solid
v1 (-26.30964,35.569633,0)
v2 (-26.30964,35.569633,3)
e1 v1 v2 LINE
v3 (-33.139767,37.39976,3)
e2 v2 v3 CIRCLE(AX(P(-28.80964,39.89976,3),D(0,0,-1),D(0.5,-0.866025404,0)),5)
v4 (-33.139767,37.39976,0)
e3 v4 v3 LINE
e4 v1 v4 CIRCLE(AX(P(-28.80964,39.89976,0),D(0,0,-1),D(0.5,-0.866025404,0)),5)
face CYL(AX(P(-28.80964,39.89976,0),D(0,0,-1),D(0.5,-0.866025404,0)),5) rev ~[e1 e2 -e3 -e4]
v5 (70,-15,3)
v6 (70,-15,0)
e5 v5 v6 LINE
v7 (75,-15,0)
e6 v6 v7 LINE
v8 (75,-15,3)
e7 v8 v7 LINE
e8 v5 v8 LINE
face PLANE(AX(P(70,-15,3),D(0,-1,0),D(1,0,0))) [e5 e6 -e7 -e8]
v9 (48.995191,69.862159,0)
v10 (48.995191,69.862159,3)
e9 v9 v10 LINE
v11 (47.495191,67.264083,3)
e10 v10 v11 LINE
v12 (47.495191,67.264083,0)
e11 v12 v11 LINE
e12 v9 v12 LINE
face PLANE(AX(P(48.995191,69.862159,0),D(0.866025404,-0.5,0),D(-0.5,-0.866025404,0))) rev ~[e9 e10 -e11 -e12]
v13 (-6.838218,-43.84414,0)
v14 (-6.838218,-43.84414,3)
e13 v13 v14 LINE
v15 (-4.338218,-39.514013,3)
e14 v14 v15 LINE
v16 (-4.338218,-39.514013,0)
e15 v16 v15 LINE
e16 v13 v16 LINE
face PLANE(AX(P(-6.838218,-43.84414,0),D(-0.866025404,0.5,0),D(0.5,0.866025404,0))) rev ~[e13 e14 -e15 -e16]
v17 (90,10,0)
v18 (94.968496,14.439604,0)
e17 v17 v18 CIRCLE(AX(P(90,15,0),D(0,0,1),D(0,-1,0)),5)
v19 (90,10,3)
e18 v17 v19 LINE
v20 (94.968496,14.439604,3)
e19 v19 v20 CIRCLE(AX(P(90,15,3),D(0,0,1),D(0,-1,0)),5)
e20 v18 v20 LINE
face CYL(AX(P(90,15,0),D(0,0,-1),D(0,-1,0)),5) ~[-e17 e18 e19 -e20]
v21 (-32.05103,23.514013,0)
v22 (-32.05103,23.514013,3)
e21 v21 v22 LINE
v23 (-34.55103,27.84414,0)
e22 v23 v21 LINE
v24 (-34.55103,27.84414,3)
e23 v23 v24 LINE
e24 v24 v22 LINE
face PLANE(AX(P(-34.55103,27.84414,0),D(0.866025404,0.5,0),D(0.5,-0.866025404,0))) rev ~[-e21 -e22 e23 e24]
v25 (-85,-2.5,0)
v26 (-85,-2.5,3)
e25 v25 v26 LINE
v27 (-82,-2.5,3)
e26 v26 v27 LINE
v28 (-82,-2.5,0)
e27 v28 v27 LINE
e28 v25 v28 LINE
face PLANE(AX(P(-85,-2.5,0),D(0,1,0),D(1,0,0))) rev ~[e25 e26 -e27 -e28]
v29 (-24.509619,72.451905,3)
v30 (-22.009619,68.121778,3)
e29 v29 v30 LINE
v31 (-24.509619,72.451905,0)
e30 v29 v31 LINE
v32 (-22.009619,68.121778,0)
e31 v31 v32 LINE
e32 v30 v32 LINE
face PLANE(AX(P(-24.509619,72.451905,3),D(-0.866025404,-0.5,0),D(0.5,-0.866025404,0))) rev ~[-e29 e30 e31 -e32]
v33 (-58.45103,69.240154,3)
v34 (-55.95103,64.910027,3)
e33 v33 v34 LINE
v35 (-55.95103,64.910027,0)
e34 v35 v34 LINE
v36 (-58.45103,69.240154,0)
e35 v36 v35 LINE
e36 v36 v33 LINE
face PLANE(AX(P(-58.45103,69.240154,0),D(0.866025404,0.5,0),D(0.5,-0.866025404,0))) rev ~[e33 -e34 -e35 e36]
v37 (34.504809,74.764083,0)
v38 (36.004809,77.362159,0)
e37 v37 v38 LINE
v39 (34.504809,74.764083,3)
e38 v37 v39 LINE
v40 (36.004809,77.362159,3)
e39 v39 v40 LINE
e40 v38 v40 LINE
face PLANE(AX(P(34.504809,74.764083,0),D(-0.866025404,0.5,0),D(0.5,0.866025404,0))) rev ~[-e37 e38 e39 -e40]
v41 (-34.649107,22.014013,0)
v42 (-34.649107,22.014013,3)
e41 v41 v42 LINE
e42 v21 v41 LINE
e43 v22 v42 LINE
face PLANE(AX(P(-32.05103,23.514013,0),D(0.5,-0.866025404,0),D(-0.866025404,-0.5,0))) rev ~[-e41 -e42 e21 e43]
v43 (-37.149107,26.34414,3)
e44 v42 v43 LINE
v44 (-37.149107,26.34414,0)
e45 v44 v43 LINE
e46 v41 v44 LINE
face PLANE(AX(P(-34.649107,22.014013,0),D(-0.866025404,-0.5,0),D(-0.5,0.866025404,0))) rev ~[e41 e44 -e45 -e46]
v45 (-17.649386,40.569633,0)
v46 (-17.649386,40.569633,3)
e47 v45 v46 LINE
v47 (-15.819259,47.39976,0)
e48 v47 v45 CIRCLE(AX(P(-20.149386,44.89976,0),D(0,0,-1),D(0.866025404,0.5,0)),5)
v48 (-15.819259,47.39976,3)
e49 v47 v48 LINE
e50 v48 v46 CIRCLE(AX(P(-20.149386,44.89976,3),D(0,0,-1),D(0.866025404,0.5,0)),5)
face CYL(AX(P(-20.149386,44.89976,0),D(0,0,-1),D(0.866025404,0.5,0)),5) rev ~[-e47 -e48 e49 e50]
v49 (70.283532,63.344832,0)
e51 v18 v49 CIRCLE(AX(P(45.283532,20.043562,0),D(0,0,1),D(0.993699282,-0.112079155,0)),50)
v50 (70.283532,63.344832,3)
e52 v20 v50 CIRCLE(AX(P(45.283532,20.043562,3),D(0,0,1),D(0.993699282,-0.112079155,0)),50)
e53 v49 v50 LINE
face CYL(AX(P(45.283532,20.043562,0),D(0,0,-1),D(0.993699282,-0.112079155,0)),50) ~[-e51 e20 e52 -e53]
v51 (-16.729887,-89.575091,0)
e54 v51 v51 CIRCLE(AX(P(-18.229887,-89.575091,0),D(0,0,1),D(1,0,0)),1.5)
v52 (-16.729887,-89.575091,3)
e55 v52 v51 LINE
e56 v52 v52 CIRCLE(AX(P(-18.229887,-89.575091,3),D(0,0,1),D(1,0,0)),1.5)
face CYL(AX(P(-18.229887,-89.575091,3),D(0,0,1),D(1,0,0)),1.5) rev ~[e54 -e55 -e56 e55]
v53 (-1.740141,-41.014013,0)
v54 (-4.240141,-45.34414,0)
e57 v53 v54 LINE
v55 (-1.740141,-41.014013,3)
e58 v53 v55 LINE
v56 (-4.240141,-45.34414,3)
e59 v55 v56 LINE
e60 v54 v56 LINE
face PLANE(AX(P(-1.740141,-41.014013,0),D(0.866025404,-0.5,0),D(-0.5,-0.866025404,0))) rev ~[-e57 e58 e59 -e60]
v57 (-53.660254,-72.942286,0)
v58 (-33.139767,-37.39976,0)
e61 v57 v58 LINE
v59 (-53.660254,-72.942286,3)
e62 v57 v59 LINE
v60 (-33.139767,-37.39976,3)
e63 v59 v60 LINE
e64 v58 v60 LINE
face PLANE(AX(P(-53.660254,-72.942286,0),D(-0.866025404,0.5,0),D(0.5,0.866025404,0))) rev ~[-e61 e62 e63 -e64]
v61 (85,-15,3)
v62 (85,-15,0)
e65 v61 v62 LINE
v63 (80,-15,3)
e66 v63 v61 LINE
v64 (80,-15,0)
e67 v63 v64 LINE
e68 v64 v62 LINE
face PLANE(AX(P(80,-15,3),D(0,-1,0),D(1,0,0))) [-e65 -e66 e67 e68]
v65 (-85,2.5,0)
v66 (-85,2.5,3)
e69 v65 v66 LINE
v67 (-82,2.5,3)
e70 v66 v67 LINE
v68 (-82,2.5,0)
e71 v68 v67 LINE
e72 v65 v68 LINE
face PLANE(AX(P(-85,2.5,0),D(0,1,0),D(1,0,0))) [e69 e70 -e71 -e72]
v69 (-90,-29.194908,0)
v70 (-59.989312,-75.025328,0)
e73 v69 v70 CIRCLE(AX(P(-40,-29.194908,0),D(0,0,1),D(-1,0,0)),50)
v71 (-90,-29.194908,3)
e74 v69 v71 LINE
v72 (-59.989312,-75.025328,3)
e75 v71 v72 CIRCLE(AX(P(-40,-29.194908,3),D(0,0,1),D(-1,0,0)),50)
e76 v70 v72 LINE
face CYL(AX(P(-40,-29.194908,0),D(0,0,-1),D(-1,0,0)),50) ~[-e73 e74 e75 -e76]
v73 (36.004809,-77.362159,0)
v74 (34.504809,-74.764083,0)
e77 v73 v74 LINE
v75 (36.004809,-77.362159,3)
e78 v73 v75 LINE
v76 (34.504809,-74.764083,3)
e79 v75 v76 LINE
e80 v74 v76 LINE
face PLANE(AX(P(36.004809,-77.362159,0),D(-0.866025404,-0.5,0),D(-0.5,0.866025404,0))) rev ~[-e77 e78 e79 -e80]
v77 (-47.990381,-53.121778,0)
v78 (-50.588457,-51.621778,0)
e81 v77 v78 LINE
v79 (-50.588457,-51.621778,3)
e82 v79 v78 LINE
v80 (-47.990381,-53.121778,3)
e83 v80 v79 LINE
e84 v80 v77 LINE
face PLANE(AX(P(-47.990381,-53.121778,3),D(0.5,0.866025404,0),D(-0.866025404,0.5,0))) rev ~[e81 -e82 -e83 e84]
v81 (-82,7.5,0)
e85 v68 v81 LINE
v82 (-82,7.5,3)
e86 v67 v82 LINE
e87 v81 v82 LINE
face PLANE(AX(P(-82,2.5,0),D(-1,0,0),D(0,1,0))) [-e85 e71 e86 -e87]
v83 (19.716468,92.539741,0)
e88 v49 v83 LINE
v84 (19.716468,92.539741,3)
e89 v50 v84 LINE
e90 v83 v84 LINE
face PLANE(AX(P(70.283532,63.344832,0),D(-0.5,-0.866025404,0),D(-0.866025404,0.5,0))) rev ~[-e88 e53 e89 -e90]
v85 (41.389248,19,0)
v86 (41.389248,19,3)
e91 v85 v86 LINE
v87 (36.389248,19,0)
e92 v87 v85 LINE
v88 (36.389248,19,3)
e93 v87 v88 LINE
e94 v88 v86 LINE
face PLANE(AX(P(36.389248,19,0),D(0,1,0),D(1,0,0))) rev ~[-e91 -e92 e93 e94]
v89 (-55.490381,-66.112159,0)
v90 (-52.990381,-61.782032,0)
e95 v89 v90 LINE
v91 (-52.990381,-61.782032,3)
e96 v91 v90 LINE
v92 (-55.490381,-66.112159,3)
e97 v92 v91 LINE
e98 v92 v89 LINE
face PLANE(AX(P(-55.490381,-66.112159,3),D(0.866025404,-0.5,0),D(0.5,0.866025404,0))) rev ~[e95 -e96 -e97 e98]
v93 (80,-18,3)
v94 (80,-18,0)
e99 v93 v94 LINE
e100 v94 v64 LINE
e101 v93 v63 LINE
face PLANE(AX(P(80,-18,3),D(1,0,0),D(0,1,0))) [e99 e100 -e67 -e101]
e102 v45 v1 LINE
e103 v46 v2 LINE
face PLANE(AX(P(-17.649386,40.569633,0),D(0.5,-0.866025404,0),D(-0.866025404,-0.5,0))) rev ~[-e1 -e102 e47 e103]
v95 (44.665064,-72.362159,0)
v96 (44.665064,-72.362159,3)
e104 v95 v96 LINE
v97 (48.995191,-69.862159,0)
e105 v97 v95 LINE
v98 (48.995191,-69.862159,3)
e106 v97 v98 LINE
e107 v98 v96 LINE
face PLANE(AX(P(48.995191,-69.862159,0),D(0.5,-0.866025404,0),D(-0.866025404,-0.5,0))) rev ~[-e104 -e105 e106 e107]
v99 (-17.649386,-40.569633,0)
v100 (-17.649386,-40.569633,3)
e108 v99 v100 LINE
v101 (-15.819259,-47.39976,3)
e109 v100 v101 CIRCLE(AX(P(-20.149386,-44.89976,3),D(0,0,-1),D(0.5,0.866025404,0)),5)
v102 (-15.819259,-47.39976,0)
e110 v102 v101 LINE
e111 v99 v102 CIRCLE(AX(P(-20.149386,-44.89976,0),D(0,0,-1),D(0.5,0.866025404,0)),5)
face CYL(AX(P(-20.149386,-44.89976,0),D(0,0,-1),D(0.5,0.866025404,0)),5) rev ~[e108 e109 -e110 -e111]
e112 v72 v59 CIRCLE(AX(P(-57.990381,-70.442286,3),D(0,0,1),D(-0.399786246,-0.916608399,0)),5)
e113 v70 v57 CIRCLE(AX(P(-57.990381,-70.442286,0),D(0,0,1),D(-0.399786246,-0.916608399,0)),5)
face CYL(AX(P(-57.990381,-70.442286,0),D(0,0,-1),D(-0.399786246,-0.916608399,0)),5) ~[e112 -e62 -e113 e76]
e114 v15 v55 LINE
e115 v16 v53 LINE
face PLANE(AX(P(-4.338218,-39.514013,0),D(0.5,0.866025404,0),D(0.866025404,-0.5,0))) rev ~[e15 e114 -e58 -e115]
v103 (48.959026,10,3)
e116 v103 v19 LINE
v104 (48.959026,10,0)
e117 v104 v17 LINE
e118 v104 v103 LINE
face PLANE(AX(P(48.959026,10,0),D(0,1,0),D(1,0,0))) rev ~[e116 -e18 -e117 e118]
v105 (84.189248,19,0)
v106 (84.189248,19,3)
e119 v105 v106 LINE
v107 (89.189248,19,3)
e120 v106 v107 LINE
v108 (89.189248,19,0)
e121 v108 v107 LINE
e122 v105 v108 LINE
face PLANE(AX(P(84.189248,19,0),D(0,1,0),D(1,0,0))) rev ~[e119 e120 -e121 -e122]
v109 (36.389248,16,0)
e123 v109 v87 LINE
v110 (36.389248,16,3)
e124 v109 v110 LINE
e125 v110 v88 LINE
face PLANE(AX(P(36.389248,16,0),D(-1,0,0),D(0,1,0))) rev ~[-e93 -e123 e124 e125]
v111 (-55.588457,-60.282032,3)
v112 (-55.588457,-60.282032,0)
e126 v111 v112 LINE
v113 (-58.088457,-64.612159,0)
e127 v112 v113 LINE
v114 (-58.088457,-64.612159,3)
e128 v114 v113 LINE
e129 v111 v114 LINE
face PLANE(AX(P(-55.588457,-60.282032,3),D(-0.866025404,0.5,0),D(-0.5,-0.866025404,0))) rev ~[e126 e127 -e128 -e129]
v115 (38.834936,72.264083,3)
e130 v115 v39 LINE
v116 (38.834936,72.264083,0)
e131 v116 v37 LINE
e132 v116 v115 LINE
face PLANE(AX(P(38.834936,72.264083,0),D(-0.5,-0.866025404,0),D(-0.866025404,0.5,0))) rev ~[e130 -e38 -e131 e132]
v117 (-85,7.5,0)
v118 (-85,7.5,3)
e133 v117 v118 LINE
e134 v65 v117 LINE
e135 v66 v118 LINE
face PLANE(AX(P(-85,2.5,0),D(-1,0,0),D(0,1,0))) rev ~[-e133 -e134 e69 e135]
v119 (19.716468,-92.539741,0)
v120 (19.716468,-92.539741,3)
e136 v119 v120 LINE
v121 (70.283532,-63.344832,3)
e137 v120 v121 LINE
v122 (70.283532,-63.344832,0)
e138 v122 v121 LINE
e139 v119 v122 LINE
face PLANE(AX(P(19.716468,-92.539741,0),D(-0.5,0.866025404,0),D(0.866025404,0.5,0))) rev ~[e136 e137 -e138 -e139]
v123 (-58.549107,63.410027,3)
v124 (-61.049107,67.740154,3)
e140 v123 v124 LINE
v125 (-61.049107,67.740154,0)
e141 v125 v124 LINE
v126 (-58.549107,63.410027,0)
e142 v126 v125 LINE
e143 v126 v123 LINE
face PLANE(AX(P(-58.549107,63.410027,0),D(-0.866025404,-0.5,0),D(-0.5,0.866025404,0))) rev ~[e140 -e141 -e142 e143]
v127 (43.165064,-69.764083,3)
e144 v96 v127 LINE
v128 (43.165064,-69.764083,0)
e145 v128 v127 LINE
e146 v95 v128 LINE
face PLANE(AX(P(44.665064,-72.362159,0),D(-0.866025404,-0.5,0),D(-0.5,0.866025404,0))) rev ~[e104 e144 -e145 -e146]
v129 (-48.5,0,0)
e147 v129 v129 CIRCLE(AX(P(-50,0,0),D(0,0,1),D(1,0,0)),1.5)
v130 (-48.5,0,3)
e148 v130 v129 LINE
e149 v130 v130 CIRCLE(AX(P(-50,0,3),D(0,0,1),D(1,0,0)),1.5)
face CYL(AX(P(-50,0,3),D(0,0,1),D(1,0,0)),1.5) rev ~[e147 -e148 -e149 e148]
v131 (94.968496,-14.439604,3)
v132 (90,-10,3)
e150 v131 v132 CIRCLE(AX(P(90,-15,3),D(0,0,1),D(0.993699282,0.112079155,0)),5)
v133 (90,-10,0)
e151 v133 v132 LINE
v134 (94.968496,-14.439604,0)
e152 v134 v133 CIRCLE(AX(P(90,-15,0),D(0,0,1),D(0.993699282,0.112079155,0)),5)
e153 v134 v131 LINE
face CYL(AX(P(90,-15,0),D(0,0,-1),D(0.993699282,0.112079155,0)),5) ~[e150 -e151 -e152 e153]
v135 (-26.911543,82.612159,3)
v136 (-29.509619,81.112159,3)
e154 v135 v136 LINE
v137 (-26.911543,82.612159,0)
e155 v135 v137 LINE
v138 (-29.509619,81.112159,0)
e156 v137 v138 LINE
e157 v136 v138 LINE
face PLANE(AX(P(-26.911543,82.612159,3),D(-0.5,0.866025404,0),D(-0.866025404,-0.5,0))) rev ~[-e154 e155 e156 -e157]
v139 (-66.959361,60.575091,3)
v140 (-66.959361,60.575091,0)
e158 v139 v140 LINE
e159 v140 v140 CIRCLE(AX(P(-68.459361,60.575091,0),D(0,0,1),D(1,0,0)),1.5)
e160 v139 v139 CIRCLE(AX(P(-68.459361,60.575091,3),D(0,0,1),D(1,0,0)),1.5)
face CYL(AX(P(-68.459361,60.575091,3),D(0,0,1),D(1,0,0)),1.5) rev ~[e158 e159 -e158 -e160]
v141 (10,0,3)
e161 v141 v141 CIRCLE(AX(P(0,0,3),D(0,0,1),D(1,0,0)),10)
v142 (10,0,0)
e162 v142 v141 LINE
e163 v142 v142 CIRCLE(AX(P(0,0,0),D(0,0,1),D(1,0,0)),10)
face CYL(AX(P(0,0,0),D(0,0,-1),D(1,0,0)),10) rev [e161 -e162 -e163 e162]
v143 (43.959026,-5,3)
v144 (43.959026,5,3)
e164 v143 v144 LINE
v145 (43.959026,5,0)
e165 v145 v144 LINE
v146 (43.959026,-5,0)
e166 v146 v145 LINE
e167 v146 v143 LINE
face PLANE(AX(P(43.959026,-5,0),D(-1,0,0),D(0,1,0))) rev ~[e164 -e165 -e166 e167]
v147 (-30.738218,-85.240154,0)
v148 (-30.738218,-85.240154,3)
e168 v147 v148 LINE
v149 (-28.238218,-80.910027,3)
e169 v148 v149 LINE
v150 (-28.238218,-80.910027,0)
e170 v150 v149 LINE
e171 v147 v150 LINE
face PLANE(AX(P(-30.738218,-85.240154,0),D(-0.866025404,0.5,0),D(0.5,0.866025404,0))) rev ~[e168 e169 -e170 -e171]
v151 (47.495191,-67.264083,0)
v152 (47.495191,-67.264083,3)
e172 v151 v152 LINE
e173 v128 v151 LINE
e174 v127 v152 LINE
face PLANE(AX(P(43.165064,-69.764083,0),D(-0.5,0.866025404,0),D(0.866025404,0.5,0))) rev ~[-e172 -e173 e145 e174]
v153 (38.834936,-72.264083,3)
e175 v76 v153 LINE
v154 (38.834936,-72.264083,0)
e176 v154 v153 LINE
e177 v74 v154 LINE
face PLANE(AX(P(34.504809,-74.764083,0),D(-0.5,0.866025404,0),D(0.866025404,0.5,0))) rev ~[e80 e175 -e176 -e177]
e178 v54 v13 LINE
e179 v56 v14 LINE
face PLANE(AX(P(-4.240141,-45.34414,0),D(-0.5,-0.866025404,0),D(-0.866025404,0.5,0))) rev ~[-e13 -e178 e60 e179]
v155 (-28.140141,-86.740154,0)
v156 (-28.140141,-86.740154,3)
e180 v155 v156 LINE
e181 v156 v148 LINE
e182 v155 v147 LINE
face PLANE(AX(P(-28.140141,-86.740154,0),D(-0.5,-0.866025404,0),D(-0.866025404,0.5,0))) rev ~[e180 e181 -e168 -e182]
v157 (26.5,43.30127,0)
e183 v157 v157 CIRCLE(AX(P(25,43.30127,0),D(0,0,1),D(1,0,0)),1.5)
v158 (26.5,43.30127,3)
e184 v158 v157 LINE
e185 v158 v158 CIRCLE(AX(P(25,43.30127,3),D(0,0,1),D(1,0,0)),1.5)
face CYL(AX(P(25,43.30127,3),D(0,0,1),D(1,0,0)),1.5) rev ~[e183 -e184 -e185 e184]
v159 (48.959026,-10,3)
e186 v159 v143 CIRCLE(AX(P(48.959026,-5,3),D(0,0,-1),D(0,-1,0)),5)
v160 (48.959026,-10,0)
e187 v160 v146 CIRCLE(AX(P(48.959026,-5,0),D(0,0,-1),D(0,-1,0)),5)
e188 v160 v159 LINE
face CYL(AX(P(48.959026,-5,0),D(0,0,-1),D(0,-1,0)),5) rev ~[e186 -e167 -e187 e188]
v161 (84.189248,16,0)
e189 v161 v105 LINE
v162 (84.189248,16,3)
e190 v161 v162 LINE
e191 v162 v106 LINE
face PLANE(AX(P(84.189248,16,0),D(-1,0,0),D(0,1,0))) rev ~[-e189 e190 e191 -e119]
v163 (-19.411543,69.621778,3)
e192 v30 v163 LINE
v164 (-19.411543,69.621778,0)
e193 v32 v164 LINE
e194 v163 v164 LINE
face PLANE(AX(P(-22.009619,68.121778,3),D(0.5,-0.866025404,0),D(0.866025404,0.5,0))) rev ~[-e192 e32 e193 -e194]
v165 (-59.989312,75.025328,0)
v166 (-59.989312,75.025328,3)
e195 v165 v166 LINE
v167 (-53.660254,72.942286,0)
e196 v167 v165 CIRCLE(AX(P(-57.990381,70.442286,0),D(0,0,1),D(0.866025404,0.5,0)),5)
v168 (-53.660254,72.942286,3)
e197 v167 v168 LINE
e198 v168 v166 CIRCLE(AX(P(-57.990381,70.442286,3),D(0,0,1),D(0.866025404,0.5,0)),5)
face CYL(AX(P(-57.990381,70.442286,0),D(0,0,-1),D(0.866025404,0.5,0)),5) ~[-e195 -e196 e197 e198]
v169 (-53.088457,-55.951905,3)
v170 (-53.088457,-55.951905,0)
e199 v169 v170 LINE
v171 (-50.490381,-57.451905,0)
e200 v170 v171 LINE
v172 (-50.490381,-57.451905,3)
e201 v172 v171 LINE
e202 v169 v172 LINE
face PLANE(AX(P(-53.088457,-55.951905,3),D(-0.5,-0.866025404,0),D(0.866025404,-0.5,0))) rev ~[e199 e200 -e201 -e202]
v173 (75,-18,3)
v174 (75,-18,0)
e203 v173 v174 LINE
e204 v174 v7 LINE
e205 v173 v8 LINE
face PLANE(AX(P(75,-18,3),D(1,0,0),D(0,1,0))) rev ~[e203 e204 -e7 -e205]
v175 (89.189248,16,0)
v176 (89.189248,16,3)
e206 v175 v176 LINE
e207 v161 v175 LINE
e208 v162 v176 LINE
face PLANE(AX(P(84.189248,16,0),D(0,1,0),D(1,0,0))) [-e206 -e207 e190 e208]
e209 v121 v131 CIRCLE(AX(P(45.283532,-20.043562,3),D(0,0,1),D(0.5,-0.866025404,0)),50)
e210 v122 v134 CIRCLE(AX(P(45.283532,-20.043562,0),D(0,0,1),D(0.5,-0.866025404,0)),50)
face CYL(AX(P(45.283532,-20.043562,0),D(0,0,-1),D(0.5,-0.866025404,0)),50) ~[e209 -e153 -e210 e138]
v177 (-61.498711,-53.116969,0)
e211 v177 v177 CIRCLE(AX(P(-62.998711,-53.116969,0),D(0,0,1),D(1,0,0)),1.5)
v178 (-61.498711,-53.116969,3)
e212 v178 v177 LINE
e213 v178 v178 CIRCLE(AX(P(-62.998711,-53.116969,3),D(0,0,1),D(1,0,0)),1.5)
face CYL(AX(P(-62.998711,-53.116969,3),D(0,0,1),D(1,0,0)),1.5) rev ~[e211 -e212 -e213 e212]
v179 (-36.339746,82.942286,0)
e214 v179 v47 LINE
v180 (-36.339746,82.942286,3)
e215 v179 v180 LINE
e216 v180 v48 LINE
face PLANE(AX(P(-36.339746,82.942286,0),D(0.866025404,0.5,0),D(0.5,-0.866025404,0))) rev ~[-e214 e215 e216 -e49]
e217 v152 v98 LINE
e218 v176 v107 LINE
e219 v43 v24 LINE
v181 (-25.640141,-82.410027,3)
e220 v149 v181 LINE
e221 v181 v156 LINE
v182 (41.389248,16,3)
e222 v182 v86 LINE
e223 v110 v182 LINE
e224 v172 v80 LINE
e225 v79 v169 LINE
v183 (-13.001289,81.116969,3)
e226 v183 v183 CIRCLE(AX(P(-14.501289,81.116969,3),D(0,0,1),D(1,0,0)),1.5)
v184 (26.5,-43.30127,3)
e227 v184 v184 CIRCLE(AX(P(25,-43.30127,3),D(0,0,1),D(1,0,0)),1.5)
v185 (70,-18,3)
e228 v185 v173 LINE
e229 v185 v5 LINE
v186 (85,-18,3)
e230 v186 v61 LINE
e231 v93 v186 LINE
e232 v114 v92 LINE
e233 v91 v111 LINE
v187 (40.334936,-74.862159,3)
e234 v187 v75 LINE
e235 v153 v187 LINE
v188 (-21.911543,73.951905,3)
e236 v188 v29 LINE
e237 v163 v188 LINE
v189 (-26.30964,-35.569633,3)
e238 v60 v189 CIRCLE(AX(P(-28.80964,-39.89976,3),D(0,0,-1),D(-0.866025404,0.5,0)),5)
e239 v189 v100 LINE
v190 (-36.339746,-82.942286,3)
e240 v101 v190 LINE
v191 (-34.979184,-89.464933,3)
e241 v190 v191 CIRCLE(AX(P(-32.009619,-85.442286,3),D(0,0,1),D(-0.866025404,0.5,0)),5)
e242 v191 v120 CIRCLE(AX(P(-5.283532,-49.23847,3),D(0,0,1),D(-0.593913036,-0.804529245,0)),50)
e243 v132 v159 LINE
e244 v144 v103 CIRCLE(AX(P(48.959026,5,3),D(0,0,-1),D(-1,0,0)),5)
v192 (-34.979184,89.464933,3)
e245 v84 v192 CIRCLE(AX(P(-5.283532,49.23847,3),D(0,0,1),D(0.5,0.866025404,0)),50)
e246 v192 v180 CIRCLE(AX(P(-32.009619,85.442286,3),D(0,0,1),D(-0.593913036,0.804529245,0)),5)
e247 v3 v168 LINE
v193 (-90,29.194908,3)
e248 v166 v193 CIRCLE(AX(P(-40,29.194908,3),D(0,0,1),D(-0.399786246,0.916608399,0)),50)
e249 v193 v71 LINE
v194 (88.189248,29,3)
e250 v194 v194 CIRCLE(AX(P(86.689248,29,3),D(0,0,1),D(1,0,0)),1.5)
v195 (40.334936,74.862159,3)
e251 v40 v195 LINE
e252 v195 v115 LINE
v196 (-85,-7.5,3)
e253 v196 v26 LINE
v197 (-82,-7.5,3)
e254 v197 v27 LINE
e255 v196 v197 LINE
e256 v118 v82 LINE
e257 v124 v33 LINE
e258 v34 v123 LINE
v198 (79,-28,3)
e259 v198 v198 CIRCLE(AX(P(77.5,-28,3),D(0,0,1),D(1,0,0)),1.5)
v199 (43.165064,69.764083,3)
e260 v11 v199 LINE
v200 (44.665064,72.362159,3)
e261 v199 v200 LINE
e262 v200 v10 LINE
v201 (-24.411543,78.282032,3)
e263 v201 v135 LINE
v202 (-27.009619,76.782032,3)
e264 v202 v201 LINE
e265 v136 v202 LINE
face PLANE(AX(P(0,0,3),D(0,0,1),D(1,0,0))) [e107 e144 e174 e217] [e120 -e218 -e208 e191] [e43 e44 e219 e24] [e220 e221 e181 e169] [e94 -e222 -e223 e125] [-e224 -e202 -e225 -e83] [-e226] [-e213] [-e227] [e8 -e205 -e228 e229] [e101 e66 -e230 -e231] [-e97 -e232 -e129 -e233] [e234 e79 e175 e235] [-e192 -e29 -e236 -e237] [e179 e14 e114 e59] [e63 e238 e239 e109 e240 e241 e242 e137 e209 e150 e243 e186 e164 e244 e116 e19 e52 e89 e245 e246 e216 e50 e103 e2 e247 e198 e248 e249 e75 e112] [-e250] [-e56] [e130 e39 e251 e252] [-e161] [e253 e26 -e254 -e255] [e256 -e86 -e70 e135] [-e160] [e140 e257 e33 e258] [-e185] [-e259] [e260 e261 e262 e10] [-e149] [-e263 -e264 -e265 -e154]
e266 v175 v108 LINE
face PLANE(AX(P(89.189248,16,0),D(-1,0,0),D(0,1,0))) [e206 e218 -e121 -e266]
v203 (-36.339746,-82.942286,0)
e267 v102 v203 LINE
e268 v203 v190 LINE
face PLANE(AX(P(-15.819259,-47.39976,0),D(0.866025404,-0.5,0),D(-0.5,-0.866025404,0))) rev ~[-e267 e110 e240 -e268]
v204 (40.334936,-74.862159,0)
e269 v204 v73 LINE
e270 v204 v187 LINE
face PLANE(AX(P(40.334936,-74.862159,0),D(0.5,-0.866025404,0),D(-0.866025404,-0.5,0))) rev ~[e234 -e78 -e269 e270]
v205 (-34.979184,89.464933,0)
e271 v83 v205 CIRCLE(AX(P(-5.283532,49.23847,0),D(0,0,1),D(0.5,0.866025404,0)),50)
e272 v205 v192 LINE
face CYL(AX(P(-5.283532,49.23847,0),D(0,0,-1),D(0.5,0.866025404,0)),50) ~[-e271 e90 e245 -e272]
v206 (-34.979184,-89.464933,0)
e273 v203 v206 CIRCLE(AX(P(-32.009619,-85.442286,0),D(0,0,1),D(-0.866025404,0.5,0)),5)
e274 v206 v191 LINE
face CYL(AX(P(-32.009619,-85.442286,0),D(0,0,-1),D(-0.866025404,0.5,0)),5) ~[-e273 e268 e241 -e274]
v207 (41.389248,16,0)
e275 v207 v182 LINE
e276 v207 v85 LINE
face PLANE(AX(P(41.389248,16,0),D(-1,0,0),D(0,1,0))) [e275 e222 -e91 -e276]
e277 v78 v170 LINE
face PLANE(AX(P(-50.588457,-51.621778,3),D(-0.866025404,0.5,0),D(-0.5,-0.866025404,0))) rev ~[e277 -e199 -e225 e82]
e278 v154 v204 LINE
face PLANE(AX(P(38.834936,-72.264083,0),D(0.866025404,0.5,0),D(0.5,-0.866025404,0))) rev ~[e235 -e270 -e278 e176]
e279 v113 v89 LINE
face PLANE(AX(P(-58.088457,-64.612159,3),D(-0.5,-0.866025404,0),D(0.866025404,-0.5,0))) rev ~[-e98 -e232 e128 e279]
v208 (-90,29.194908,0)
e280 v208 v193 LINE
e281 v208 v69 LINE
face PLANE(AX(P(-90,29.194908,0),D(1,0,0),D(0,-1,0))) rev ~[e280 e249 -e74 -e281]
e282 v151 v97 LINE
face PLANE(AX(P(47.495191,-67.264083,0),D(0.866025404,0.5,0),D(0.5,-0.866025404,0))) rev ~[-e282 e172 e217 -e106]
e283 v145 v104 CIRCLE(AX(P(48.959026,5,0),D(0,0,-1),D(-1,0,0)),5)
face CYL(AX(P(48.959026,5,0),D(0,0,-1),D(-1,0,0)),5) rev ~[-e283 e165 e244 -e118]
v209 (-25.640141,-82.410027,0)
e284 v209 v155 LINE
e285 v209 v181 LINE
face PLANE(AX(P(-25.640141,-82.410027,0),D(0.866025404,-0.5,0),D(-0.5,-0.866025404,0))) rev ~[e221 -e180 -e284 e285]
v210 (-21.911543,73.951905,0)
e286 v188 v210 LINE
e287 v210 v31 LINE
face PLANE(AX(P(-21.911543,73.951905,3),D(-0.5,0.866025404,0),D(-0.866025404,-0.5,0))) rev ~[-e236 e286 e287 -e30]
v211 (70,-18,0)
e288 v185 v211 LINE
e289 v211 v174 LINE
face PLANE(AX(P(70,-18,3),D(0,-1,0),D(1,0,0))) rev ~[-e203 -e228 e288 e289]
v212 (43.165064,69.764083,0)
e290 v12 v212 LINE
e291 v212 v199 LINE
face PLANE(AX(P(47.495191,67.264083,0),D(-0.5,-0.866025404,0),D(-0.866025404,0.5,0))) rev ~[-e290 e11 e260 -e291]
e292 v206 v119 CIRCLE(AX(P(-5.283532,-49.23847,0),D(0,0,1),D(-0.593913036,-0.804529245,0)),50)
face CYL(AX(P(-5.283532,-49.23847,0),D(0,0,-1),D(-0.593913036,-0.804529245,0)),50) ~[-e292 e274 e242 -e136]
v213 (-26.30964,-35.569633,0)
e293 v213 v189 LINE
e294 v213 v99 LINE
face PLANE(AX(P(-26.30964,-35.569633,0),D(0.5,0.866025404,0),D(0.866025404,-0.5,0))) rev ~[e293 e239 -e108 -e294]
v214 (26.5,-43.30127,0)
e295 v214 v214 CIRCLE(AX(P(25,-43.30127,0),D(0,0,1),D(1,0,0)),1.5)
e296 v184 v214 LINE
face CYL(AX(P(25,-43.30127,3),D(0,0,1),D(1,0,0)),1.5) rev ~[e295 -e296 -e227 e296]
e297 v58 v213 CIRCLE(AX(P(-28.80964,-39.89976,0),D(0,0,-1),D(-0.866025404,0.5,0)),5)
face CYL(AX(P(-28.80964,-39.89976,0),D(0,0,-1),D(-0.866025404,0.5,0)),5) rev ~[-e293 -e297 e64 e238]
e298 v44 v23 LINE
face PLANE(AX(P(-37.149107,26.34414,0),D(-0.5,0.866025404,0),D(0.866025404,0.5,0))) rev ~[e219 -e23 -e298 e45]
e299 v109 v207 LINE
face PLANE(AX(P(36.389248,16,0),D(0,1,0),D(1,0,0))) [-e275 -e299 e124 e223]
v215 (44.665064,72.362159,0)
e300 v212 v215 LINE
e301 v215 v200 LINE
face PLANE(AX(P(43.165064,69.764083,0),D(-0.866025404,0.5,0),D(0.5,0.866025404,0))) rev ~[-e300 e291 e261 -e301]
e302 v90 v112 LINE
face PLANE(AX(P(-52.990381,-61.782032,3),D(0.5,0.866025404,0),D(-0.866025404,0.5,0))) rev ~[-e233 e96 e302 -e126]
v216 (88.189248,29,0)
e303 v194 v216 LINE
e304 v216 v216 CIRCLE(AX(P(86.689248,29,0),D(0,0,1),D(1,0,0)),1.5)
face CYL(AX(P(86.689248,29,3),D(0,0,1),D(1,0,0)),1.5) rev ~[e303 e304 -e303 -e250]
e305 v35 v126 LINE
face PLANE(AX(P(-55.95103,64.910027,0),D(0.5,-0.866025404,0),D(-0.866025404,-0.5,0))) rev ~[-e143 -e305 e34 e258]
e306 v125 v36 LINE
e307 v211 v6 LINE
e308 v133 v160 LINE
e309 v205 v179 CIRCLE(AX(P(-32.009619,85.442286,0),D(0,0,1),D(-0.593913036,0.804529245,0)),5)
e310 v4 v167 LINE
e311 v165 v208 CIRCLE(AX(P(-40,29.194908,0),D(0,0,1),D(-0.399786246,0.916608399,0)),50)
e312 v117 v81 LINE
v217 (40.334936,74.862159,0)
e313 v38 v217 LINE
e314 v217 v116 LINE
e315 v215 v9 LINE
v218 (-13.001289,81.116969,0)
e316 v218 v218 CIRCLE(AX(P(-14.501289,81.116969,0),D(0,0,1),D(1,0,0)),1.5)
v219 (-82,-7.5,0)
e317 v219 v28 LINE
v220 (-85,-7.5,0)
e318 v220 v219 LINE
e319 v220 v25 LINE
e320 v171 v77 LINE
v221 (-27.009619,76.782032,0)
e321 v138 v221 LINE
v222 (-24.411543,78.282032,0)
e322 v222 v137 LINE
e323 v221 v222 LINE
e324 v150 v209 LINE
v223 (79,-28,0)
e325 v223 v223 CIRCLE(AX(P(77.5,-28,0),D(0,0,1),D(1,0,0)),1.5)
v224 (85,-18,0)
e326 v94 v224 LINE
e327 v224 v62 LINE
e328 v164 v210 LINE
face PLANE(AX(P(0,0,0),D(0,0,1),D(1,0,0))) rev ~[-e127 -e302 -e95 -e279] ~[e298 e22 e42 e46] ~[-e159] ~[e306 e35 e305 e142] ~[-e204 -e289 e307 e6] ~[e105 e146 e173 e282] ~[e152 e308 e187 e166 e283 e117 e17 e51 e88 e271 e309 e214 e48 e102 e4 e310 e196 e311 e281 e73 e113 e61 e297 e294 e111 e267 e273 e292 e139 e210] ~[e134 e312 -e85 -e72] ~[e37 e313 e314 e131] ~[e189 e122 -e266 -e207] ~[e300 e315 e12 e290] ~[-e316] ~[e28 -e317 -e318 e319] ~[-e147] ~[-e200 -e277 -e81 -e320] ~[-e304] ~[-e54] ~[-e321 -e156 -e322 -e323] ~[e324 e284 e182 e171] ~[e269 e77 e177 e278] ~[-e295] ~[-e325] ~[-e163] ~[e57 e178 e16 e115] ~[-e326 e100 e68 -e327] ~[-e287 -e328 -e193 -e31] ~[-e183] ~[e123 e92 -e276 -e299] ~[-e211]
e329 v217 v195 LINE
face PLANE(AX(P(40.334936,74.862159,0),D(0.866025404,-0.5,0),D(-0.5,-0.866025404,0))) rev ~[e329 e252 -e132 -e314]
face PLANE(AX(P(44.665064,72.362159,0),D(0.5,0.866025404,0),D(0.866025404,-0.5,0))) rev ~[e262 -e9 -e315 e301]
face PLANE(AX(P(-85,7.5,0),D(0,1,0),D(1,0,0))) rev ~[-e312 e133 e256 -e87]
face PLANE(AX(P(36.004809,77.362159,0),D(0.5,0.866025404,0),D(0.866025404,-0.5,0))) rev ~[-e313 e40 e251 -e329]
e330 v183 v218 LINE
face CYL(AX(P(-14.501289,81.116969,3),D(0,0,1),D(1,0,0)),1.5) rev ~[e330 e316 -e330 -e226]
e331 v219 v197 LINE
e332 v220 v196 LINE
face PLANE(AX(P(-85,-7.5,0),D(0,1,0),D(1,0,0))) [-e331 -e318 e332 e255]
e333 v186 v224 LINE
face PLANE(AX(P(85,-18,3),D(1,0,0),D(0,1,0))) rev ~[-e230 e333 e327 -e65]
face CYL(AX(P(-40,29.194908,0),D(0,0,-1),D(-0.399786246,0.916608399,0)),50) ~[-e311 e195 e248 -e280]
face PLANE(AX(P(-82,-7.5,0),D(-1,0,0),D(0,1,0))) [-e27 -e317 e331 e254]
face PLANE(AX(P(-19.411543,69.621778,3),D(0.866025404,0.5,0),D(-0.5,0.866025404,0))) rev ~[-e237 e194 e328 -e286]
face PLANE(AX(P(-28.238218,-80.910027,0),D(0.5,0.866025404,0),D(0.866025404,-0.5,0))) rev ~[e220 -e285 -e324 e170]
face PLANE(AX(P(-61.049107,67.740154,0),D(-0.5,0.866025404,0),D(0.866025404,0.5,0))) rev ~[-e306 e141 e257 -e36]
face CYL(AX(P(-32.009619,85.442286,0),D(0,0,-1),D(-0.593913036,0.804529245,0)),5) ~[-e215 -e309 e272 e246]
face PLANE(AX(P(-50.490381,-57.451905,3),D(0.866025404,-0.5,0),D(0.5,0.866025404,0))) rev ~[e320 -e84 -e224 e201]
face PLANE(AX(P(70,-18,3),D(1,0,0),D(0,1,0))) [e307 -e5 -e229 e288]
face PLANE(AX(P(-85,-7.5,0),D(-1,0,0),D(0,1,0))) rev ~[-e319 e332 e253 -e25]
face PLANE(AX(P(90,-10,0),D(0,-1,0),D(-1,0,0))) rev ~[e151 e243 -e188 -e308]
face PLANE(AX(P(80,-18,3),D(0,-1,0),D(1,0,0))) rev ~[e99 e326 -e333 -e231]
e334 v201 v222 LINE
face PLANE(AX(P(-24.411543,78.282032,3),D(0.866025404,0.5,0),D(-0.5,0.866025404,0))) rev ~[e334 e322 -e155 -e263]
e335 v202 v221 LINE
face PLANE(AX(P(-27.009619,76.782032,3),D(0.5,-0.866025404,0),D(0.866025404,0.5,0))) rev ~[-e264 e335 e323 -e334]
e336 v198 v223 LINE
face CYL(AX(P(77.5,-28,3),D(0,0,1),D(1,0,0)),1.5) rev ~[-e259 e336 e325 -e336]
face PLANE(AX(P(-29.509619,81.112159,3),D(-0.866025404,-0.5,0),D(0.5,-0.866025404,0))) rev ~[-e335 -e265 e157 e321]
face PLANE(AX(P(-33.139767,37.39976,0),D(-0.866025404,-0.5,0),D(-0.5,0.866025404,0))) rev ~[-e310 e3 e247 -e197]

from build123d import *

# Parameters (mm, degrees)
F0_W     = 3
F0_H     = 5
F0_R     = 10
F0_W_2   = 5
F0_H_2   = 3
F1_DEPTH = 3
F2_R     = 1.5
F2_W     = 5
F2_H     = 3
F3_DEPTH = 3


with BuildPart() as f1:
    # F0 (on Top) → F1 (new body)
    with BuildSketch(Plane.XY):
        with BuildLine():
            Line((48.9590259639, 10), (90, 10))
            ThreePointArc((90, 10), (93.331517757, 11.2715969323), (94.96849641, 14.439604226))
            ThreePointArc((94.96849641, 14.439604226), (89.9197428946, 42.5737351708), (70.2835323098, 63.3448321555))
            Line((70.2835323098, 63.3448321555), (45, 77.9422863406))
            Line((45, 77.9422863406), (19.7164676902, 92.5397405257))
            ThreePointArc((19.7164676902, 92.5397405257), (-8.0899352554, 99.1596492339), (-34.9791841247, 89.4649325633))
            ThreePointArc((-34.9791841247, 89.4649325633), (-36.9042695939, 86.4632638174), (-36.3397459622, 82.9422863406))
            Line((-36.3397459622, 82.9422863406), (-15.8192589441, 47.3997602293))
            ThreePointArc((-15.8192589441, 47.3997602293), (-15.3197568316, 43.6056650038), (-17.649385963, 40.5696332104))
            Line((-17.649385963, 40.5696332104), (-26.3096400009, 35.5696332104))
            ThreePointArc((-26.3096400009, 35.5696332104), (-30.1037352264, 35.0701310979), (-33.1397670198, 37.3997602293))
            Line((-33.1397670198, 37.3997602293), (-53.6602540378, 72.9422863406))
            ThreePointArc((-53.6602540378, 72.9422863406), (-56.4272481631, 75.1916668851), (-59.9893122853, 75.0253283373))
            ThreePointArc((-59.9893122853, 75.0253283373), (-81.8298076392, 56.5859140631), (-90, 29.1949083702))
            Line((-90, 29.1949083702), (-90, 0))
            Line((-90, 0), (-90, -29.1949083702))
            ThreePointArc((-90, -29.1949083702), (-81.8298076392, -56.5859140631), (-59.9893122853, -75.0253283373))
            ThreePointArc((-59.9893122853, -75.0253283373), (-56.4272481631, -75.1916668851), (-53.6602540378, -72.9422863406))
            Line((-53.6602540378, -72.9422863406), (-33.1397670198, -37.3997602293))
            ThreePointArc((-33.1397670198, -37.3997602293), (-30.1037352264, -35.0701310979), (-26.3096400009, -35.5696332104))
            Line((-26.3096400009, -35.5696332104), (-17.649385963, -40.5696332104))
            ThreePointArc((-17.649385963, -40.5696332104), (-15.3197568316, -43.6056650038), (-15.8192589441, -47.3997602293))
            Line((-15.8192589441, -47.3997602293), (-36.3397459622, -82.9422863406))
            ThreePointArc((-36.3397459622, -82.9422863406), (-36.9042695939, -86.4632638174), (-34.9791841247, -89.4649325633))
            ThreePointArc((-34.9791841247, -89.4649325633), (-8.0899352554, -99.1596492339), (19.7164676902, -92.5397405257))
            Line((19.7164676902, -92.5397405257), (45, -77.9422863406))
            Line((45, -77.9422863406), (70.2835323098, -63.3448321555))
            ThreePointArc((70.2835323098, -63.3448321555), (89.9197428946, -42.5737351708), (94.96849641, -14.439604226))
            ThreePointArc((94.96849641, -14.439604226), (93.331517757, -11.2715969323), (90, -10))
            Line((90, -10), (48.9590259639, -10))
            ThreePointArc((48.9590259639, -10), (45.423492058, -8.5355339059), (43.9590259639, -5))
            Line((43.9590259639, -5), (43.9590259639, 5))
            ThreePointArc((43.9590259639, 5), (45.423492058, 8.5355339059), (48.9590259639, 10))
        make_face()
        Polygon((-28.1401412901, -86.7401544467), (-30.7382175015, -85.2401544467), (-28.2382175015, -80.9100274278), (-25.6401412901, -82.4100274278), align=None, mode=Mode.SUBTRACT)
        with Locations((-83.5, -5)):
            Rectangle(F0_W, F0_H, mode=Mode.SUBTRACT)
        Polygon((-4.2401412901, -45.3441401458), (-6.8382175015, -43.8441401458), (-4.3382175015, -39.5140131269), (-1.7401412901, -41.0140131269), align=None, mode=Mode.SUBTRACT)
        Polygon((40.3349364905, -74.8621593217), (36.0048094716, -77.3621593217), (34.5048094716, -74.7640831103), (38.8349364905, -72.2640831103), align=None, mode=Mode.SUBTRACT)
        Polygon((48.9951905284, -69.8621593217), (44.6650635095, -72.3621593217), (43.1650635095, -69.7640831103), (47.4951905284, -67.2640831103), align=None, mode=Mode.SUBTRACT)
        with Locations((-83.5, 5)):
            Rectangle(F0_W, F0_H, mode=Mode.SUBTRACT)
        Circle(F0_R, mode=Mode.SUBTRACT)
        Polygon((-37.1491066339, 26.3441401458), (-34.5510304226, 27.8441401458), (-32.0510304226, 23.5140131269), (-34.6491066339, 22.0140131269), align=None, mode=Mode.SUBTRACT)
        Polygon((-61.0491066339, 67.7401544467), (-58.4510304226, 69.2401544467), (-55.9510304226, 64.9100274278), (-58.5491066339, 63.4100274278), align=None, mode=Mode.SUBTRACT)
        with Locations((38.8892479241, 17.5)):
            Rectangle(F0_W_2, F0_H_2, mode=Mode.SUBTRACT)
        with Locations((86.6892479241, 17.5)):
            Rectangle(F0_W_2, F0_H_2, mode=Mode.SUBTRACT)
        Polygon((44.6650635095, 72.3621593217), (48.9951905284, 69.8621593217), (47.4951905284, 67.2640831103), (43.1650635095, 69.7640831103), align=None, mode=Mode.SUBTRACT)
        Polygon((36.0048094716, 77.3621593217), (40.3349364905, 74.8621593217), (38.8349364905, 72.2640831103), (34.5048094716, 74.7640831103), align=None, mode=Mode.SUBTRACT)
    extrude(amount=F1_DEPTH)

    # F2 (on face) → F3 (cut, through all)
    with BuildSketch(Plane.XY.offset(3)):
        with Locations((-50, 0)):
            Circle(F2_R)
        with Locations((25, -43.3012701892)):
            Circle(F2_R)
        with Locations((25, 43.3012701892)):
            Circle(F2_R)
        with Locations((86.6892479241, 29)):
            Circle(F2_R)
        with Locations((-68.4593606718, 60.5750909372)):
            Circle(F2_R)
        with Locations((-18.2298872523, -89.5750909372)):
            Circle(F2_R)
        with Locations((72.5, -16.5)):
            Rectangle(F2_W, F2_H)
        with Locations((82.5, -16.5)):
            Rectangle(F2_W, F2_H)
        Polygon((-24.5096189432, 72.4519052838), (-22.0096189432, 68.1217782649), (-19.4115427319, 69.6217782649), (-21.9115427319, 73.9519052838), align=None)
        Polygon((-29.5096189432, 81.1121593217), (-27.0096189432, 76.7820323028), (-24.4115427319, 78.2820323028), (-26.9115427319, 82.6121593217), align=None)
        Polygon((-50.4903810568, -57.4519052838), (-47.9903810568, -53.1217782649), (-50.5884572681, -51.6217782649), (-53.0884572681, -55.9519052838), align=None)
        Polygon((-55.4903810568, -66.1121593217), (-52.9903810568, -61.7820323028), (-55.5884572681, -60.2820323028), (-58.0884572681, -64.6121593217), align=None)
        with Locations((77.5, -28)):
            Circle(F2_R)
        with Locations((-14.501288694, 81.1169687933)):
            Circle(F2_R)
        with Locations((-62.998711306, -53.1169687933)):
            Circle(F2_R)
    extrude(amount=-F3_DEPTH, mode=Mode.SUBTRACT)


solid = f1.part
